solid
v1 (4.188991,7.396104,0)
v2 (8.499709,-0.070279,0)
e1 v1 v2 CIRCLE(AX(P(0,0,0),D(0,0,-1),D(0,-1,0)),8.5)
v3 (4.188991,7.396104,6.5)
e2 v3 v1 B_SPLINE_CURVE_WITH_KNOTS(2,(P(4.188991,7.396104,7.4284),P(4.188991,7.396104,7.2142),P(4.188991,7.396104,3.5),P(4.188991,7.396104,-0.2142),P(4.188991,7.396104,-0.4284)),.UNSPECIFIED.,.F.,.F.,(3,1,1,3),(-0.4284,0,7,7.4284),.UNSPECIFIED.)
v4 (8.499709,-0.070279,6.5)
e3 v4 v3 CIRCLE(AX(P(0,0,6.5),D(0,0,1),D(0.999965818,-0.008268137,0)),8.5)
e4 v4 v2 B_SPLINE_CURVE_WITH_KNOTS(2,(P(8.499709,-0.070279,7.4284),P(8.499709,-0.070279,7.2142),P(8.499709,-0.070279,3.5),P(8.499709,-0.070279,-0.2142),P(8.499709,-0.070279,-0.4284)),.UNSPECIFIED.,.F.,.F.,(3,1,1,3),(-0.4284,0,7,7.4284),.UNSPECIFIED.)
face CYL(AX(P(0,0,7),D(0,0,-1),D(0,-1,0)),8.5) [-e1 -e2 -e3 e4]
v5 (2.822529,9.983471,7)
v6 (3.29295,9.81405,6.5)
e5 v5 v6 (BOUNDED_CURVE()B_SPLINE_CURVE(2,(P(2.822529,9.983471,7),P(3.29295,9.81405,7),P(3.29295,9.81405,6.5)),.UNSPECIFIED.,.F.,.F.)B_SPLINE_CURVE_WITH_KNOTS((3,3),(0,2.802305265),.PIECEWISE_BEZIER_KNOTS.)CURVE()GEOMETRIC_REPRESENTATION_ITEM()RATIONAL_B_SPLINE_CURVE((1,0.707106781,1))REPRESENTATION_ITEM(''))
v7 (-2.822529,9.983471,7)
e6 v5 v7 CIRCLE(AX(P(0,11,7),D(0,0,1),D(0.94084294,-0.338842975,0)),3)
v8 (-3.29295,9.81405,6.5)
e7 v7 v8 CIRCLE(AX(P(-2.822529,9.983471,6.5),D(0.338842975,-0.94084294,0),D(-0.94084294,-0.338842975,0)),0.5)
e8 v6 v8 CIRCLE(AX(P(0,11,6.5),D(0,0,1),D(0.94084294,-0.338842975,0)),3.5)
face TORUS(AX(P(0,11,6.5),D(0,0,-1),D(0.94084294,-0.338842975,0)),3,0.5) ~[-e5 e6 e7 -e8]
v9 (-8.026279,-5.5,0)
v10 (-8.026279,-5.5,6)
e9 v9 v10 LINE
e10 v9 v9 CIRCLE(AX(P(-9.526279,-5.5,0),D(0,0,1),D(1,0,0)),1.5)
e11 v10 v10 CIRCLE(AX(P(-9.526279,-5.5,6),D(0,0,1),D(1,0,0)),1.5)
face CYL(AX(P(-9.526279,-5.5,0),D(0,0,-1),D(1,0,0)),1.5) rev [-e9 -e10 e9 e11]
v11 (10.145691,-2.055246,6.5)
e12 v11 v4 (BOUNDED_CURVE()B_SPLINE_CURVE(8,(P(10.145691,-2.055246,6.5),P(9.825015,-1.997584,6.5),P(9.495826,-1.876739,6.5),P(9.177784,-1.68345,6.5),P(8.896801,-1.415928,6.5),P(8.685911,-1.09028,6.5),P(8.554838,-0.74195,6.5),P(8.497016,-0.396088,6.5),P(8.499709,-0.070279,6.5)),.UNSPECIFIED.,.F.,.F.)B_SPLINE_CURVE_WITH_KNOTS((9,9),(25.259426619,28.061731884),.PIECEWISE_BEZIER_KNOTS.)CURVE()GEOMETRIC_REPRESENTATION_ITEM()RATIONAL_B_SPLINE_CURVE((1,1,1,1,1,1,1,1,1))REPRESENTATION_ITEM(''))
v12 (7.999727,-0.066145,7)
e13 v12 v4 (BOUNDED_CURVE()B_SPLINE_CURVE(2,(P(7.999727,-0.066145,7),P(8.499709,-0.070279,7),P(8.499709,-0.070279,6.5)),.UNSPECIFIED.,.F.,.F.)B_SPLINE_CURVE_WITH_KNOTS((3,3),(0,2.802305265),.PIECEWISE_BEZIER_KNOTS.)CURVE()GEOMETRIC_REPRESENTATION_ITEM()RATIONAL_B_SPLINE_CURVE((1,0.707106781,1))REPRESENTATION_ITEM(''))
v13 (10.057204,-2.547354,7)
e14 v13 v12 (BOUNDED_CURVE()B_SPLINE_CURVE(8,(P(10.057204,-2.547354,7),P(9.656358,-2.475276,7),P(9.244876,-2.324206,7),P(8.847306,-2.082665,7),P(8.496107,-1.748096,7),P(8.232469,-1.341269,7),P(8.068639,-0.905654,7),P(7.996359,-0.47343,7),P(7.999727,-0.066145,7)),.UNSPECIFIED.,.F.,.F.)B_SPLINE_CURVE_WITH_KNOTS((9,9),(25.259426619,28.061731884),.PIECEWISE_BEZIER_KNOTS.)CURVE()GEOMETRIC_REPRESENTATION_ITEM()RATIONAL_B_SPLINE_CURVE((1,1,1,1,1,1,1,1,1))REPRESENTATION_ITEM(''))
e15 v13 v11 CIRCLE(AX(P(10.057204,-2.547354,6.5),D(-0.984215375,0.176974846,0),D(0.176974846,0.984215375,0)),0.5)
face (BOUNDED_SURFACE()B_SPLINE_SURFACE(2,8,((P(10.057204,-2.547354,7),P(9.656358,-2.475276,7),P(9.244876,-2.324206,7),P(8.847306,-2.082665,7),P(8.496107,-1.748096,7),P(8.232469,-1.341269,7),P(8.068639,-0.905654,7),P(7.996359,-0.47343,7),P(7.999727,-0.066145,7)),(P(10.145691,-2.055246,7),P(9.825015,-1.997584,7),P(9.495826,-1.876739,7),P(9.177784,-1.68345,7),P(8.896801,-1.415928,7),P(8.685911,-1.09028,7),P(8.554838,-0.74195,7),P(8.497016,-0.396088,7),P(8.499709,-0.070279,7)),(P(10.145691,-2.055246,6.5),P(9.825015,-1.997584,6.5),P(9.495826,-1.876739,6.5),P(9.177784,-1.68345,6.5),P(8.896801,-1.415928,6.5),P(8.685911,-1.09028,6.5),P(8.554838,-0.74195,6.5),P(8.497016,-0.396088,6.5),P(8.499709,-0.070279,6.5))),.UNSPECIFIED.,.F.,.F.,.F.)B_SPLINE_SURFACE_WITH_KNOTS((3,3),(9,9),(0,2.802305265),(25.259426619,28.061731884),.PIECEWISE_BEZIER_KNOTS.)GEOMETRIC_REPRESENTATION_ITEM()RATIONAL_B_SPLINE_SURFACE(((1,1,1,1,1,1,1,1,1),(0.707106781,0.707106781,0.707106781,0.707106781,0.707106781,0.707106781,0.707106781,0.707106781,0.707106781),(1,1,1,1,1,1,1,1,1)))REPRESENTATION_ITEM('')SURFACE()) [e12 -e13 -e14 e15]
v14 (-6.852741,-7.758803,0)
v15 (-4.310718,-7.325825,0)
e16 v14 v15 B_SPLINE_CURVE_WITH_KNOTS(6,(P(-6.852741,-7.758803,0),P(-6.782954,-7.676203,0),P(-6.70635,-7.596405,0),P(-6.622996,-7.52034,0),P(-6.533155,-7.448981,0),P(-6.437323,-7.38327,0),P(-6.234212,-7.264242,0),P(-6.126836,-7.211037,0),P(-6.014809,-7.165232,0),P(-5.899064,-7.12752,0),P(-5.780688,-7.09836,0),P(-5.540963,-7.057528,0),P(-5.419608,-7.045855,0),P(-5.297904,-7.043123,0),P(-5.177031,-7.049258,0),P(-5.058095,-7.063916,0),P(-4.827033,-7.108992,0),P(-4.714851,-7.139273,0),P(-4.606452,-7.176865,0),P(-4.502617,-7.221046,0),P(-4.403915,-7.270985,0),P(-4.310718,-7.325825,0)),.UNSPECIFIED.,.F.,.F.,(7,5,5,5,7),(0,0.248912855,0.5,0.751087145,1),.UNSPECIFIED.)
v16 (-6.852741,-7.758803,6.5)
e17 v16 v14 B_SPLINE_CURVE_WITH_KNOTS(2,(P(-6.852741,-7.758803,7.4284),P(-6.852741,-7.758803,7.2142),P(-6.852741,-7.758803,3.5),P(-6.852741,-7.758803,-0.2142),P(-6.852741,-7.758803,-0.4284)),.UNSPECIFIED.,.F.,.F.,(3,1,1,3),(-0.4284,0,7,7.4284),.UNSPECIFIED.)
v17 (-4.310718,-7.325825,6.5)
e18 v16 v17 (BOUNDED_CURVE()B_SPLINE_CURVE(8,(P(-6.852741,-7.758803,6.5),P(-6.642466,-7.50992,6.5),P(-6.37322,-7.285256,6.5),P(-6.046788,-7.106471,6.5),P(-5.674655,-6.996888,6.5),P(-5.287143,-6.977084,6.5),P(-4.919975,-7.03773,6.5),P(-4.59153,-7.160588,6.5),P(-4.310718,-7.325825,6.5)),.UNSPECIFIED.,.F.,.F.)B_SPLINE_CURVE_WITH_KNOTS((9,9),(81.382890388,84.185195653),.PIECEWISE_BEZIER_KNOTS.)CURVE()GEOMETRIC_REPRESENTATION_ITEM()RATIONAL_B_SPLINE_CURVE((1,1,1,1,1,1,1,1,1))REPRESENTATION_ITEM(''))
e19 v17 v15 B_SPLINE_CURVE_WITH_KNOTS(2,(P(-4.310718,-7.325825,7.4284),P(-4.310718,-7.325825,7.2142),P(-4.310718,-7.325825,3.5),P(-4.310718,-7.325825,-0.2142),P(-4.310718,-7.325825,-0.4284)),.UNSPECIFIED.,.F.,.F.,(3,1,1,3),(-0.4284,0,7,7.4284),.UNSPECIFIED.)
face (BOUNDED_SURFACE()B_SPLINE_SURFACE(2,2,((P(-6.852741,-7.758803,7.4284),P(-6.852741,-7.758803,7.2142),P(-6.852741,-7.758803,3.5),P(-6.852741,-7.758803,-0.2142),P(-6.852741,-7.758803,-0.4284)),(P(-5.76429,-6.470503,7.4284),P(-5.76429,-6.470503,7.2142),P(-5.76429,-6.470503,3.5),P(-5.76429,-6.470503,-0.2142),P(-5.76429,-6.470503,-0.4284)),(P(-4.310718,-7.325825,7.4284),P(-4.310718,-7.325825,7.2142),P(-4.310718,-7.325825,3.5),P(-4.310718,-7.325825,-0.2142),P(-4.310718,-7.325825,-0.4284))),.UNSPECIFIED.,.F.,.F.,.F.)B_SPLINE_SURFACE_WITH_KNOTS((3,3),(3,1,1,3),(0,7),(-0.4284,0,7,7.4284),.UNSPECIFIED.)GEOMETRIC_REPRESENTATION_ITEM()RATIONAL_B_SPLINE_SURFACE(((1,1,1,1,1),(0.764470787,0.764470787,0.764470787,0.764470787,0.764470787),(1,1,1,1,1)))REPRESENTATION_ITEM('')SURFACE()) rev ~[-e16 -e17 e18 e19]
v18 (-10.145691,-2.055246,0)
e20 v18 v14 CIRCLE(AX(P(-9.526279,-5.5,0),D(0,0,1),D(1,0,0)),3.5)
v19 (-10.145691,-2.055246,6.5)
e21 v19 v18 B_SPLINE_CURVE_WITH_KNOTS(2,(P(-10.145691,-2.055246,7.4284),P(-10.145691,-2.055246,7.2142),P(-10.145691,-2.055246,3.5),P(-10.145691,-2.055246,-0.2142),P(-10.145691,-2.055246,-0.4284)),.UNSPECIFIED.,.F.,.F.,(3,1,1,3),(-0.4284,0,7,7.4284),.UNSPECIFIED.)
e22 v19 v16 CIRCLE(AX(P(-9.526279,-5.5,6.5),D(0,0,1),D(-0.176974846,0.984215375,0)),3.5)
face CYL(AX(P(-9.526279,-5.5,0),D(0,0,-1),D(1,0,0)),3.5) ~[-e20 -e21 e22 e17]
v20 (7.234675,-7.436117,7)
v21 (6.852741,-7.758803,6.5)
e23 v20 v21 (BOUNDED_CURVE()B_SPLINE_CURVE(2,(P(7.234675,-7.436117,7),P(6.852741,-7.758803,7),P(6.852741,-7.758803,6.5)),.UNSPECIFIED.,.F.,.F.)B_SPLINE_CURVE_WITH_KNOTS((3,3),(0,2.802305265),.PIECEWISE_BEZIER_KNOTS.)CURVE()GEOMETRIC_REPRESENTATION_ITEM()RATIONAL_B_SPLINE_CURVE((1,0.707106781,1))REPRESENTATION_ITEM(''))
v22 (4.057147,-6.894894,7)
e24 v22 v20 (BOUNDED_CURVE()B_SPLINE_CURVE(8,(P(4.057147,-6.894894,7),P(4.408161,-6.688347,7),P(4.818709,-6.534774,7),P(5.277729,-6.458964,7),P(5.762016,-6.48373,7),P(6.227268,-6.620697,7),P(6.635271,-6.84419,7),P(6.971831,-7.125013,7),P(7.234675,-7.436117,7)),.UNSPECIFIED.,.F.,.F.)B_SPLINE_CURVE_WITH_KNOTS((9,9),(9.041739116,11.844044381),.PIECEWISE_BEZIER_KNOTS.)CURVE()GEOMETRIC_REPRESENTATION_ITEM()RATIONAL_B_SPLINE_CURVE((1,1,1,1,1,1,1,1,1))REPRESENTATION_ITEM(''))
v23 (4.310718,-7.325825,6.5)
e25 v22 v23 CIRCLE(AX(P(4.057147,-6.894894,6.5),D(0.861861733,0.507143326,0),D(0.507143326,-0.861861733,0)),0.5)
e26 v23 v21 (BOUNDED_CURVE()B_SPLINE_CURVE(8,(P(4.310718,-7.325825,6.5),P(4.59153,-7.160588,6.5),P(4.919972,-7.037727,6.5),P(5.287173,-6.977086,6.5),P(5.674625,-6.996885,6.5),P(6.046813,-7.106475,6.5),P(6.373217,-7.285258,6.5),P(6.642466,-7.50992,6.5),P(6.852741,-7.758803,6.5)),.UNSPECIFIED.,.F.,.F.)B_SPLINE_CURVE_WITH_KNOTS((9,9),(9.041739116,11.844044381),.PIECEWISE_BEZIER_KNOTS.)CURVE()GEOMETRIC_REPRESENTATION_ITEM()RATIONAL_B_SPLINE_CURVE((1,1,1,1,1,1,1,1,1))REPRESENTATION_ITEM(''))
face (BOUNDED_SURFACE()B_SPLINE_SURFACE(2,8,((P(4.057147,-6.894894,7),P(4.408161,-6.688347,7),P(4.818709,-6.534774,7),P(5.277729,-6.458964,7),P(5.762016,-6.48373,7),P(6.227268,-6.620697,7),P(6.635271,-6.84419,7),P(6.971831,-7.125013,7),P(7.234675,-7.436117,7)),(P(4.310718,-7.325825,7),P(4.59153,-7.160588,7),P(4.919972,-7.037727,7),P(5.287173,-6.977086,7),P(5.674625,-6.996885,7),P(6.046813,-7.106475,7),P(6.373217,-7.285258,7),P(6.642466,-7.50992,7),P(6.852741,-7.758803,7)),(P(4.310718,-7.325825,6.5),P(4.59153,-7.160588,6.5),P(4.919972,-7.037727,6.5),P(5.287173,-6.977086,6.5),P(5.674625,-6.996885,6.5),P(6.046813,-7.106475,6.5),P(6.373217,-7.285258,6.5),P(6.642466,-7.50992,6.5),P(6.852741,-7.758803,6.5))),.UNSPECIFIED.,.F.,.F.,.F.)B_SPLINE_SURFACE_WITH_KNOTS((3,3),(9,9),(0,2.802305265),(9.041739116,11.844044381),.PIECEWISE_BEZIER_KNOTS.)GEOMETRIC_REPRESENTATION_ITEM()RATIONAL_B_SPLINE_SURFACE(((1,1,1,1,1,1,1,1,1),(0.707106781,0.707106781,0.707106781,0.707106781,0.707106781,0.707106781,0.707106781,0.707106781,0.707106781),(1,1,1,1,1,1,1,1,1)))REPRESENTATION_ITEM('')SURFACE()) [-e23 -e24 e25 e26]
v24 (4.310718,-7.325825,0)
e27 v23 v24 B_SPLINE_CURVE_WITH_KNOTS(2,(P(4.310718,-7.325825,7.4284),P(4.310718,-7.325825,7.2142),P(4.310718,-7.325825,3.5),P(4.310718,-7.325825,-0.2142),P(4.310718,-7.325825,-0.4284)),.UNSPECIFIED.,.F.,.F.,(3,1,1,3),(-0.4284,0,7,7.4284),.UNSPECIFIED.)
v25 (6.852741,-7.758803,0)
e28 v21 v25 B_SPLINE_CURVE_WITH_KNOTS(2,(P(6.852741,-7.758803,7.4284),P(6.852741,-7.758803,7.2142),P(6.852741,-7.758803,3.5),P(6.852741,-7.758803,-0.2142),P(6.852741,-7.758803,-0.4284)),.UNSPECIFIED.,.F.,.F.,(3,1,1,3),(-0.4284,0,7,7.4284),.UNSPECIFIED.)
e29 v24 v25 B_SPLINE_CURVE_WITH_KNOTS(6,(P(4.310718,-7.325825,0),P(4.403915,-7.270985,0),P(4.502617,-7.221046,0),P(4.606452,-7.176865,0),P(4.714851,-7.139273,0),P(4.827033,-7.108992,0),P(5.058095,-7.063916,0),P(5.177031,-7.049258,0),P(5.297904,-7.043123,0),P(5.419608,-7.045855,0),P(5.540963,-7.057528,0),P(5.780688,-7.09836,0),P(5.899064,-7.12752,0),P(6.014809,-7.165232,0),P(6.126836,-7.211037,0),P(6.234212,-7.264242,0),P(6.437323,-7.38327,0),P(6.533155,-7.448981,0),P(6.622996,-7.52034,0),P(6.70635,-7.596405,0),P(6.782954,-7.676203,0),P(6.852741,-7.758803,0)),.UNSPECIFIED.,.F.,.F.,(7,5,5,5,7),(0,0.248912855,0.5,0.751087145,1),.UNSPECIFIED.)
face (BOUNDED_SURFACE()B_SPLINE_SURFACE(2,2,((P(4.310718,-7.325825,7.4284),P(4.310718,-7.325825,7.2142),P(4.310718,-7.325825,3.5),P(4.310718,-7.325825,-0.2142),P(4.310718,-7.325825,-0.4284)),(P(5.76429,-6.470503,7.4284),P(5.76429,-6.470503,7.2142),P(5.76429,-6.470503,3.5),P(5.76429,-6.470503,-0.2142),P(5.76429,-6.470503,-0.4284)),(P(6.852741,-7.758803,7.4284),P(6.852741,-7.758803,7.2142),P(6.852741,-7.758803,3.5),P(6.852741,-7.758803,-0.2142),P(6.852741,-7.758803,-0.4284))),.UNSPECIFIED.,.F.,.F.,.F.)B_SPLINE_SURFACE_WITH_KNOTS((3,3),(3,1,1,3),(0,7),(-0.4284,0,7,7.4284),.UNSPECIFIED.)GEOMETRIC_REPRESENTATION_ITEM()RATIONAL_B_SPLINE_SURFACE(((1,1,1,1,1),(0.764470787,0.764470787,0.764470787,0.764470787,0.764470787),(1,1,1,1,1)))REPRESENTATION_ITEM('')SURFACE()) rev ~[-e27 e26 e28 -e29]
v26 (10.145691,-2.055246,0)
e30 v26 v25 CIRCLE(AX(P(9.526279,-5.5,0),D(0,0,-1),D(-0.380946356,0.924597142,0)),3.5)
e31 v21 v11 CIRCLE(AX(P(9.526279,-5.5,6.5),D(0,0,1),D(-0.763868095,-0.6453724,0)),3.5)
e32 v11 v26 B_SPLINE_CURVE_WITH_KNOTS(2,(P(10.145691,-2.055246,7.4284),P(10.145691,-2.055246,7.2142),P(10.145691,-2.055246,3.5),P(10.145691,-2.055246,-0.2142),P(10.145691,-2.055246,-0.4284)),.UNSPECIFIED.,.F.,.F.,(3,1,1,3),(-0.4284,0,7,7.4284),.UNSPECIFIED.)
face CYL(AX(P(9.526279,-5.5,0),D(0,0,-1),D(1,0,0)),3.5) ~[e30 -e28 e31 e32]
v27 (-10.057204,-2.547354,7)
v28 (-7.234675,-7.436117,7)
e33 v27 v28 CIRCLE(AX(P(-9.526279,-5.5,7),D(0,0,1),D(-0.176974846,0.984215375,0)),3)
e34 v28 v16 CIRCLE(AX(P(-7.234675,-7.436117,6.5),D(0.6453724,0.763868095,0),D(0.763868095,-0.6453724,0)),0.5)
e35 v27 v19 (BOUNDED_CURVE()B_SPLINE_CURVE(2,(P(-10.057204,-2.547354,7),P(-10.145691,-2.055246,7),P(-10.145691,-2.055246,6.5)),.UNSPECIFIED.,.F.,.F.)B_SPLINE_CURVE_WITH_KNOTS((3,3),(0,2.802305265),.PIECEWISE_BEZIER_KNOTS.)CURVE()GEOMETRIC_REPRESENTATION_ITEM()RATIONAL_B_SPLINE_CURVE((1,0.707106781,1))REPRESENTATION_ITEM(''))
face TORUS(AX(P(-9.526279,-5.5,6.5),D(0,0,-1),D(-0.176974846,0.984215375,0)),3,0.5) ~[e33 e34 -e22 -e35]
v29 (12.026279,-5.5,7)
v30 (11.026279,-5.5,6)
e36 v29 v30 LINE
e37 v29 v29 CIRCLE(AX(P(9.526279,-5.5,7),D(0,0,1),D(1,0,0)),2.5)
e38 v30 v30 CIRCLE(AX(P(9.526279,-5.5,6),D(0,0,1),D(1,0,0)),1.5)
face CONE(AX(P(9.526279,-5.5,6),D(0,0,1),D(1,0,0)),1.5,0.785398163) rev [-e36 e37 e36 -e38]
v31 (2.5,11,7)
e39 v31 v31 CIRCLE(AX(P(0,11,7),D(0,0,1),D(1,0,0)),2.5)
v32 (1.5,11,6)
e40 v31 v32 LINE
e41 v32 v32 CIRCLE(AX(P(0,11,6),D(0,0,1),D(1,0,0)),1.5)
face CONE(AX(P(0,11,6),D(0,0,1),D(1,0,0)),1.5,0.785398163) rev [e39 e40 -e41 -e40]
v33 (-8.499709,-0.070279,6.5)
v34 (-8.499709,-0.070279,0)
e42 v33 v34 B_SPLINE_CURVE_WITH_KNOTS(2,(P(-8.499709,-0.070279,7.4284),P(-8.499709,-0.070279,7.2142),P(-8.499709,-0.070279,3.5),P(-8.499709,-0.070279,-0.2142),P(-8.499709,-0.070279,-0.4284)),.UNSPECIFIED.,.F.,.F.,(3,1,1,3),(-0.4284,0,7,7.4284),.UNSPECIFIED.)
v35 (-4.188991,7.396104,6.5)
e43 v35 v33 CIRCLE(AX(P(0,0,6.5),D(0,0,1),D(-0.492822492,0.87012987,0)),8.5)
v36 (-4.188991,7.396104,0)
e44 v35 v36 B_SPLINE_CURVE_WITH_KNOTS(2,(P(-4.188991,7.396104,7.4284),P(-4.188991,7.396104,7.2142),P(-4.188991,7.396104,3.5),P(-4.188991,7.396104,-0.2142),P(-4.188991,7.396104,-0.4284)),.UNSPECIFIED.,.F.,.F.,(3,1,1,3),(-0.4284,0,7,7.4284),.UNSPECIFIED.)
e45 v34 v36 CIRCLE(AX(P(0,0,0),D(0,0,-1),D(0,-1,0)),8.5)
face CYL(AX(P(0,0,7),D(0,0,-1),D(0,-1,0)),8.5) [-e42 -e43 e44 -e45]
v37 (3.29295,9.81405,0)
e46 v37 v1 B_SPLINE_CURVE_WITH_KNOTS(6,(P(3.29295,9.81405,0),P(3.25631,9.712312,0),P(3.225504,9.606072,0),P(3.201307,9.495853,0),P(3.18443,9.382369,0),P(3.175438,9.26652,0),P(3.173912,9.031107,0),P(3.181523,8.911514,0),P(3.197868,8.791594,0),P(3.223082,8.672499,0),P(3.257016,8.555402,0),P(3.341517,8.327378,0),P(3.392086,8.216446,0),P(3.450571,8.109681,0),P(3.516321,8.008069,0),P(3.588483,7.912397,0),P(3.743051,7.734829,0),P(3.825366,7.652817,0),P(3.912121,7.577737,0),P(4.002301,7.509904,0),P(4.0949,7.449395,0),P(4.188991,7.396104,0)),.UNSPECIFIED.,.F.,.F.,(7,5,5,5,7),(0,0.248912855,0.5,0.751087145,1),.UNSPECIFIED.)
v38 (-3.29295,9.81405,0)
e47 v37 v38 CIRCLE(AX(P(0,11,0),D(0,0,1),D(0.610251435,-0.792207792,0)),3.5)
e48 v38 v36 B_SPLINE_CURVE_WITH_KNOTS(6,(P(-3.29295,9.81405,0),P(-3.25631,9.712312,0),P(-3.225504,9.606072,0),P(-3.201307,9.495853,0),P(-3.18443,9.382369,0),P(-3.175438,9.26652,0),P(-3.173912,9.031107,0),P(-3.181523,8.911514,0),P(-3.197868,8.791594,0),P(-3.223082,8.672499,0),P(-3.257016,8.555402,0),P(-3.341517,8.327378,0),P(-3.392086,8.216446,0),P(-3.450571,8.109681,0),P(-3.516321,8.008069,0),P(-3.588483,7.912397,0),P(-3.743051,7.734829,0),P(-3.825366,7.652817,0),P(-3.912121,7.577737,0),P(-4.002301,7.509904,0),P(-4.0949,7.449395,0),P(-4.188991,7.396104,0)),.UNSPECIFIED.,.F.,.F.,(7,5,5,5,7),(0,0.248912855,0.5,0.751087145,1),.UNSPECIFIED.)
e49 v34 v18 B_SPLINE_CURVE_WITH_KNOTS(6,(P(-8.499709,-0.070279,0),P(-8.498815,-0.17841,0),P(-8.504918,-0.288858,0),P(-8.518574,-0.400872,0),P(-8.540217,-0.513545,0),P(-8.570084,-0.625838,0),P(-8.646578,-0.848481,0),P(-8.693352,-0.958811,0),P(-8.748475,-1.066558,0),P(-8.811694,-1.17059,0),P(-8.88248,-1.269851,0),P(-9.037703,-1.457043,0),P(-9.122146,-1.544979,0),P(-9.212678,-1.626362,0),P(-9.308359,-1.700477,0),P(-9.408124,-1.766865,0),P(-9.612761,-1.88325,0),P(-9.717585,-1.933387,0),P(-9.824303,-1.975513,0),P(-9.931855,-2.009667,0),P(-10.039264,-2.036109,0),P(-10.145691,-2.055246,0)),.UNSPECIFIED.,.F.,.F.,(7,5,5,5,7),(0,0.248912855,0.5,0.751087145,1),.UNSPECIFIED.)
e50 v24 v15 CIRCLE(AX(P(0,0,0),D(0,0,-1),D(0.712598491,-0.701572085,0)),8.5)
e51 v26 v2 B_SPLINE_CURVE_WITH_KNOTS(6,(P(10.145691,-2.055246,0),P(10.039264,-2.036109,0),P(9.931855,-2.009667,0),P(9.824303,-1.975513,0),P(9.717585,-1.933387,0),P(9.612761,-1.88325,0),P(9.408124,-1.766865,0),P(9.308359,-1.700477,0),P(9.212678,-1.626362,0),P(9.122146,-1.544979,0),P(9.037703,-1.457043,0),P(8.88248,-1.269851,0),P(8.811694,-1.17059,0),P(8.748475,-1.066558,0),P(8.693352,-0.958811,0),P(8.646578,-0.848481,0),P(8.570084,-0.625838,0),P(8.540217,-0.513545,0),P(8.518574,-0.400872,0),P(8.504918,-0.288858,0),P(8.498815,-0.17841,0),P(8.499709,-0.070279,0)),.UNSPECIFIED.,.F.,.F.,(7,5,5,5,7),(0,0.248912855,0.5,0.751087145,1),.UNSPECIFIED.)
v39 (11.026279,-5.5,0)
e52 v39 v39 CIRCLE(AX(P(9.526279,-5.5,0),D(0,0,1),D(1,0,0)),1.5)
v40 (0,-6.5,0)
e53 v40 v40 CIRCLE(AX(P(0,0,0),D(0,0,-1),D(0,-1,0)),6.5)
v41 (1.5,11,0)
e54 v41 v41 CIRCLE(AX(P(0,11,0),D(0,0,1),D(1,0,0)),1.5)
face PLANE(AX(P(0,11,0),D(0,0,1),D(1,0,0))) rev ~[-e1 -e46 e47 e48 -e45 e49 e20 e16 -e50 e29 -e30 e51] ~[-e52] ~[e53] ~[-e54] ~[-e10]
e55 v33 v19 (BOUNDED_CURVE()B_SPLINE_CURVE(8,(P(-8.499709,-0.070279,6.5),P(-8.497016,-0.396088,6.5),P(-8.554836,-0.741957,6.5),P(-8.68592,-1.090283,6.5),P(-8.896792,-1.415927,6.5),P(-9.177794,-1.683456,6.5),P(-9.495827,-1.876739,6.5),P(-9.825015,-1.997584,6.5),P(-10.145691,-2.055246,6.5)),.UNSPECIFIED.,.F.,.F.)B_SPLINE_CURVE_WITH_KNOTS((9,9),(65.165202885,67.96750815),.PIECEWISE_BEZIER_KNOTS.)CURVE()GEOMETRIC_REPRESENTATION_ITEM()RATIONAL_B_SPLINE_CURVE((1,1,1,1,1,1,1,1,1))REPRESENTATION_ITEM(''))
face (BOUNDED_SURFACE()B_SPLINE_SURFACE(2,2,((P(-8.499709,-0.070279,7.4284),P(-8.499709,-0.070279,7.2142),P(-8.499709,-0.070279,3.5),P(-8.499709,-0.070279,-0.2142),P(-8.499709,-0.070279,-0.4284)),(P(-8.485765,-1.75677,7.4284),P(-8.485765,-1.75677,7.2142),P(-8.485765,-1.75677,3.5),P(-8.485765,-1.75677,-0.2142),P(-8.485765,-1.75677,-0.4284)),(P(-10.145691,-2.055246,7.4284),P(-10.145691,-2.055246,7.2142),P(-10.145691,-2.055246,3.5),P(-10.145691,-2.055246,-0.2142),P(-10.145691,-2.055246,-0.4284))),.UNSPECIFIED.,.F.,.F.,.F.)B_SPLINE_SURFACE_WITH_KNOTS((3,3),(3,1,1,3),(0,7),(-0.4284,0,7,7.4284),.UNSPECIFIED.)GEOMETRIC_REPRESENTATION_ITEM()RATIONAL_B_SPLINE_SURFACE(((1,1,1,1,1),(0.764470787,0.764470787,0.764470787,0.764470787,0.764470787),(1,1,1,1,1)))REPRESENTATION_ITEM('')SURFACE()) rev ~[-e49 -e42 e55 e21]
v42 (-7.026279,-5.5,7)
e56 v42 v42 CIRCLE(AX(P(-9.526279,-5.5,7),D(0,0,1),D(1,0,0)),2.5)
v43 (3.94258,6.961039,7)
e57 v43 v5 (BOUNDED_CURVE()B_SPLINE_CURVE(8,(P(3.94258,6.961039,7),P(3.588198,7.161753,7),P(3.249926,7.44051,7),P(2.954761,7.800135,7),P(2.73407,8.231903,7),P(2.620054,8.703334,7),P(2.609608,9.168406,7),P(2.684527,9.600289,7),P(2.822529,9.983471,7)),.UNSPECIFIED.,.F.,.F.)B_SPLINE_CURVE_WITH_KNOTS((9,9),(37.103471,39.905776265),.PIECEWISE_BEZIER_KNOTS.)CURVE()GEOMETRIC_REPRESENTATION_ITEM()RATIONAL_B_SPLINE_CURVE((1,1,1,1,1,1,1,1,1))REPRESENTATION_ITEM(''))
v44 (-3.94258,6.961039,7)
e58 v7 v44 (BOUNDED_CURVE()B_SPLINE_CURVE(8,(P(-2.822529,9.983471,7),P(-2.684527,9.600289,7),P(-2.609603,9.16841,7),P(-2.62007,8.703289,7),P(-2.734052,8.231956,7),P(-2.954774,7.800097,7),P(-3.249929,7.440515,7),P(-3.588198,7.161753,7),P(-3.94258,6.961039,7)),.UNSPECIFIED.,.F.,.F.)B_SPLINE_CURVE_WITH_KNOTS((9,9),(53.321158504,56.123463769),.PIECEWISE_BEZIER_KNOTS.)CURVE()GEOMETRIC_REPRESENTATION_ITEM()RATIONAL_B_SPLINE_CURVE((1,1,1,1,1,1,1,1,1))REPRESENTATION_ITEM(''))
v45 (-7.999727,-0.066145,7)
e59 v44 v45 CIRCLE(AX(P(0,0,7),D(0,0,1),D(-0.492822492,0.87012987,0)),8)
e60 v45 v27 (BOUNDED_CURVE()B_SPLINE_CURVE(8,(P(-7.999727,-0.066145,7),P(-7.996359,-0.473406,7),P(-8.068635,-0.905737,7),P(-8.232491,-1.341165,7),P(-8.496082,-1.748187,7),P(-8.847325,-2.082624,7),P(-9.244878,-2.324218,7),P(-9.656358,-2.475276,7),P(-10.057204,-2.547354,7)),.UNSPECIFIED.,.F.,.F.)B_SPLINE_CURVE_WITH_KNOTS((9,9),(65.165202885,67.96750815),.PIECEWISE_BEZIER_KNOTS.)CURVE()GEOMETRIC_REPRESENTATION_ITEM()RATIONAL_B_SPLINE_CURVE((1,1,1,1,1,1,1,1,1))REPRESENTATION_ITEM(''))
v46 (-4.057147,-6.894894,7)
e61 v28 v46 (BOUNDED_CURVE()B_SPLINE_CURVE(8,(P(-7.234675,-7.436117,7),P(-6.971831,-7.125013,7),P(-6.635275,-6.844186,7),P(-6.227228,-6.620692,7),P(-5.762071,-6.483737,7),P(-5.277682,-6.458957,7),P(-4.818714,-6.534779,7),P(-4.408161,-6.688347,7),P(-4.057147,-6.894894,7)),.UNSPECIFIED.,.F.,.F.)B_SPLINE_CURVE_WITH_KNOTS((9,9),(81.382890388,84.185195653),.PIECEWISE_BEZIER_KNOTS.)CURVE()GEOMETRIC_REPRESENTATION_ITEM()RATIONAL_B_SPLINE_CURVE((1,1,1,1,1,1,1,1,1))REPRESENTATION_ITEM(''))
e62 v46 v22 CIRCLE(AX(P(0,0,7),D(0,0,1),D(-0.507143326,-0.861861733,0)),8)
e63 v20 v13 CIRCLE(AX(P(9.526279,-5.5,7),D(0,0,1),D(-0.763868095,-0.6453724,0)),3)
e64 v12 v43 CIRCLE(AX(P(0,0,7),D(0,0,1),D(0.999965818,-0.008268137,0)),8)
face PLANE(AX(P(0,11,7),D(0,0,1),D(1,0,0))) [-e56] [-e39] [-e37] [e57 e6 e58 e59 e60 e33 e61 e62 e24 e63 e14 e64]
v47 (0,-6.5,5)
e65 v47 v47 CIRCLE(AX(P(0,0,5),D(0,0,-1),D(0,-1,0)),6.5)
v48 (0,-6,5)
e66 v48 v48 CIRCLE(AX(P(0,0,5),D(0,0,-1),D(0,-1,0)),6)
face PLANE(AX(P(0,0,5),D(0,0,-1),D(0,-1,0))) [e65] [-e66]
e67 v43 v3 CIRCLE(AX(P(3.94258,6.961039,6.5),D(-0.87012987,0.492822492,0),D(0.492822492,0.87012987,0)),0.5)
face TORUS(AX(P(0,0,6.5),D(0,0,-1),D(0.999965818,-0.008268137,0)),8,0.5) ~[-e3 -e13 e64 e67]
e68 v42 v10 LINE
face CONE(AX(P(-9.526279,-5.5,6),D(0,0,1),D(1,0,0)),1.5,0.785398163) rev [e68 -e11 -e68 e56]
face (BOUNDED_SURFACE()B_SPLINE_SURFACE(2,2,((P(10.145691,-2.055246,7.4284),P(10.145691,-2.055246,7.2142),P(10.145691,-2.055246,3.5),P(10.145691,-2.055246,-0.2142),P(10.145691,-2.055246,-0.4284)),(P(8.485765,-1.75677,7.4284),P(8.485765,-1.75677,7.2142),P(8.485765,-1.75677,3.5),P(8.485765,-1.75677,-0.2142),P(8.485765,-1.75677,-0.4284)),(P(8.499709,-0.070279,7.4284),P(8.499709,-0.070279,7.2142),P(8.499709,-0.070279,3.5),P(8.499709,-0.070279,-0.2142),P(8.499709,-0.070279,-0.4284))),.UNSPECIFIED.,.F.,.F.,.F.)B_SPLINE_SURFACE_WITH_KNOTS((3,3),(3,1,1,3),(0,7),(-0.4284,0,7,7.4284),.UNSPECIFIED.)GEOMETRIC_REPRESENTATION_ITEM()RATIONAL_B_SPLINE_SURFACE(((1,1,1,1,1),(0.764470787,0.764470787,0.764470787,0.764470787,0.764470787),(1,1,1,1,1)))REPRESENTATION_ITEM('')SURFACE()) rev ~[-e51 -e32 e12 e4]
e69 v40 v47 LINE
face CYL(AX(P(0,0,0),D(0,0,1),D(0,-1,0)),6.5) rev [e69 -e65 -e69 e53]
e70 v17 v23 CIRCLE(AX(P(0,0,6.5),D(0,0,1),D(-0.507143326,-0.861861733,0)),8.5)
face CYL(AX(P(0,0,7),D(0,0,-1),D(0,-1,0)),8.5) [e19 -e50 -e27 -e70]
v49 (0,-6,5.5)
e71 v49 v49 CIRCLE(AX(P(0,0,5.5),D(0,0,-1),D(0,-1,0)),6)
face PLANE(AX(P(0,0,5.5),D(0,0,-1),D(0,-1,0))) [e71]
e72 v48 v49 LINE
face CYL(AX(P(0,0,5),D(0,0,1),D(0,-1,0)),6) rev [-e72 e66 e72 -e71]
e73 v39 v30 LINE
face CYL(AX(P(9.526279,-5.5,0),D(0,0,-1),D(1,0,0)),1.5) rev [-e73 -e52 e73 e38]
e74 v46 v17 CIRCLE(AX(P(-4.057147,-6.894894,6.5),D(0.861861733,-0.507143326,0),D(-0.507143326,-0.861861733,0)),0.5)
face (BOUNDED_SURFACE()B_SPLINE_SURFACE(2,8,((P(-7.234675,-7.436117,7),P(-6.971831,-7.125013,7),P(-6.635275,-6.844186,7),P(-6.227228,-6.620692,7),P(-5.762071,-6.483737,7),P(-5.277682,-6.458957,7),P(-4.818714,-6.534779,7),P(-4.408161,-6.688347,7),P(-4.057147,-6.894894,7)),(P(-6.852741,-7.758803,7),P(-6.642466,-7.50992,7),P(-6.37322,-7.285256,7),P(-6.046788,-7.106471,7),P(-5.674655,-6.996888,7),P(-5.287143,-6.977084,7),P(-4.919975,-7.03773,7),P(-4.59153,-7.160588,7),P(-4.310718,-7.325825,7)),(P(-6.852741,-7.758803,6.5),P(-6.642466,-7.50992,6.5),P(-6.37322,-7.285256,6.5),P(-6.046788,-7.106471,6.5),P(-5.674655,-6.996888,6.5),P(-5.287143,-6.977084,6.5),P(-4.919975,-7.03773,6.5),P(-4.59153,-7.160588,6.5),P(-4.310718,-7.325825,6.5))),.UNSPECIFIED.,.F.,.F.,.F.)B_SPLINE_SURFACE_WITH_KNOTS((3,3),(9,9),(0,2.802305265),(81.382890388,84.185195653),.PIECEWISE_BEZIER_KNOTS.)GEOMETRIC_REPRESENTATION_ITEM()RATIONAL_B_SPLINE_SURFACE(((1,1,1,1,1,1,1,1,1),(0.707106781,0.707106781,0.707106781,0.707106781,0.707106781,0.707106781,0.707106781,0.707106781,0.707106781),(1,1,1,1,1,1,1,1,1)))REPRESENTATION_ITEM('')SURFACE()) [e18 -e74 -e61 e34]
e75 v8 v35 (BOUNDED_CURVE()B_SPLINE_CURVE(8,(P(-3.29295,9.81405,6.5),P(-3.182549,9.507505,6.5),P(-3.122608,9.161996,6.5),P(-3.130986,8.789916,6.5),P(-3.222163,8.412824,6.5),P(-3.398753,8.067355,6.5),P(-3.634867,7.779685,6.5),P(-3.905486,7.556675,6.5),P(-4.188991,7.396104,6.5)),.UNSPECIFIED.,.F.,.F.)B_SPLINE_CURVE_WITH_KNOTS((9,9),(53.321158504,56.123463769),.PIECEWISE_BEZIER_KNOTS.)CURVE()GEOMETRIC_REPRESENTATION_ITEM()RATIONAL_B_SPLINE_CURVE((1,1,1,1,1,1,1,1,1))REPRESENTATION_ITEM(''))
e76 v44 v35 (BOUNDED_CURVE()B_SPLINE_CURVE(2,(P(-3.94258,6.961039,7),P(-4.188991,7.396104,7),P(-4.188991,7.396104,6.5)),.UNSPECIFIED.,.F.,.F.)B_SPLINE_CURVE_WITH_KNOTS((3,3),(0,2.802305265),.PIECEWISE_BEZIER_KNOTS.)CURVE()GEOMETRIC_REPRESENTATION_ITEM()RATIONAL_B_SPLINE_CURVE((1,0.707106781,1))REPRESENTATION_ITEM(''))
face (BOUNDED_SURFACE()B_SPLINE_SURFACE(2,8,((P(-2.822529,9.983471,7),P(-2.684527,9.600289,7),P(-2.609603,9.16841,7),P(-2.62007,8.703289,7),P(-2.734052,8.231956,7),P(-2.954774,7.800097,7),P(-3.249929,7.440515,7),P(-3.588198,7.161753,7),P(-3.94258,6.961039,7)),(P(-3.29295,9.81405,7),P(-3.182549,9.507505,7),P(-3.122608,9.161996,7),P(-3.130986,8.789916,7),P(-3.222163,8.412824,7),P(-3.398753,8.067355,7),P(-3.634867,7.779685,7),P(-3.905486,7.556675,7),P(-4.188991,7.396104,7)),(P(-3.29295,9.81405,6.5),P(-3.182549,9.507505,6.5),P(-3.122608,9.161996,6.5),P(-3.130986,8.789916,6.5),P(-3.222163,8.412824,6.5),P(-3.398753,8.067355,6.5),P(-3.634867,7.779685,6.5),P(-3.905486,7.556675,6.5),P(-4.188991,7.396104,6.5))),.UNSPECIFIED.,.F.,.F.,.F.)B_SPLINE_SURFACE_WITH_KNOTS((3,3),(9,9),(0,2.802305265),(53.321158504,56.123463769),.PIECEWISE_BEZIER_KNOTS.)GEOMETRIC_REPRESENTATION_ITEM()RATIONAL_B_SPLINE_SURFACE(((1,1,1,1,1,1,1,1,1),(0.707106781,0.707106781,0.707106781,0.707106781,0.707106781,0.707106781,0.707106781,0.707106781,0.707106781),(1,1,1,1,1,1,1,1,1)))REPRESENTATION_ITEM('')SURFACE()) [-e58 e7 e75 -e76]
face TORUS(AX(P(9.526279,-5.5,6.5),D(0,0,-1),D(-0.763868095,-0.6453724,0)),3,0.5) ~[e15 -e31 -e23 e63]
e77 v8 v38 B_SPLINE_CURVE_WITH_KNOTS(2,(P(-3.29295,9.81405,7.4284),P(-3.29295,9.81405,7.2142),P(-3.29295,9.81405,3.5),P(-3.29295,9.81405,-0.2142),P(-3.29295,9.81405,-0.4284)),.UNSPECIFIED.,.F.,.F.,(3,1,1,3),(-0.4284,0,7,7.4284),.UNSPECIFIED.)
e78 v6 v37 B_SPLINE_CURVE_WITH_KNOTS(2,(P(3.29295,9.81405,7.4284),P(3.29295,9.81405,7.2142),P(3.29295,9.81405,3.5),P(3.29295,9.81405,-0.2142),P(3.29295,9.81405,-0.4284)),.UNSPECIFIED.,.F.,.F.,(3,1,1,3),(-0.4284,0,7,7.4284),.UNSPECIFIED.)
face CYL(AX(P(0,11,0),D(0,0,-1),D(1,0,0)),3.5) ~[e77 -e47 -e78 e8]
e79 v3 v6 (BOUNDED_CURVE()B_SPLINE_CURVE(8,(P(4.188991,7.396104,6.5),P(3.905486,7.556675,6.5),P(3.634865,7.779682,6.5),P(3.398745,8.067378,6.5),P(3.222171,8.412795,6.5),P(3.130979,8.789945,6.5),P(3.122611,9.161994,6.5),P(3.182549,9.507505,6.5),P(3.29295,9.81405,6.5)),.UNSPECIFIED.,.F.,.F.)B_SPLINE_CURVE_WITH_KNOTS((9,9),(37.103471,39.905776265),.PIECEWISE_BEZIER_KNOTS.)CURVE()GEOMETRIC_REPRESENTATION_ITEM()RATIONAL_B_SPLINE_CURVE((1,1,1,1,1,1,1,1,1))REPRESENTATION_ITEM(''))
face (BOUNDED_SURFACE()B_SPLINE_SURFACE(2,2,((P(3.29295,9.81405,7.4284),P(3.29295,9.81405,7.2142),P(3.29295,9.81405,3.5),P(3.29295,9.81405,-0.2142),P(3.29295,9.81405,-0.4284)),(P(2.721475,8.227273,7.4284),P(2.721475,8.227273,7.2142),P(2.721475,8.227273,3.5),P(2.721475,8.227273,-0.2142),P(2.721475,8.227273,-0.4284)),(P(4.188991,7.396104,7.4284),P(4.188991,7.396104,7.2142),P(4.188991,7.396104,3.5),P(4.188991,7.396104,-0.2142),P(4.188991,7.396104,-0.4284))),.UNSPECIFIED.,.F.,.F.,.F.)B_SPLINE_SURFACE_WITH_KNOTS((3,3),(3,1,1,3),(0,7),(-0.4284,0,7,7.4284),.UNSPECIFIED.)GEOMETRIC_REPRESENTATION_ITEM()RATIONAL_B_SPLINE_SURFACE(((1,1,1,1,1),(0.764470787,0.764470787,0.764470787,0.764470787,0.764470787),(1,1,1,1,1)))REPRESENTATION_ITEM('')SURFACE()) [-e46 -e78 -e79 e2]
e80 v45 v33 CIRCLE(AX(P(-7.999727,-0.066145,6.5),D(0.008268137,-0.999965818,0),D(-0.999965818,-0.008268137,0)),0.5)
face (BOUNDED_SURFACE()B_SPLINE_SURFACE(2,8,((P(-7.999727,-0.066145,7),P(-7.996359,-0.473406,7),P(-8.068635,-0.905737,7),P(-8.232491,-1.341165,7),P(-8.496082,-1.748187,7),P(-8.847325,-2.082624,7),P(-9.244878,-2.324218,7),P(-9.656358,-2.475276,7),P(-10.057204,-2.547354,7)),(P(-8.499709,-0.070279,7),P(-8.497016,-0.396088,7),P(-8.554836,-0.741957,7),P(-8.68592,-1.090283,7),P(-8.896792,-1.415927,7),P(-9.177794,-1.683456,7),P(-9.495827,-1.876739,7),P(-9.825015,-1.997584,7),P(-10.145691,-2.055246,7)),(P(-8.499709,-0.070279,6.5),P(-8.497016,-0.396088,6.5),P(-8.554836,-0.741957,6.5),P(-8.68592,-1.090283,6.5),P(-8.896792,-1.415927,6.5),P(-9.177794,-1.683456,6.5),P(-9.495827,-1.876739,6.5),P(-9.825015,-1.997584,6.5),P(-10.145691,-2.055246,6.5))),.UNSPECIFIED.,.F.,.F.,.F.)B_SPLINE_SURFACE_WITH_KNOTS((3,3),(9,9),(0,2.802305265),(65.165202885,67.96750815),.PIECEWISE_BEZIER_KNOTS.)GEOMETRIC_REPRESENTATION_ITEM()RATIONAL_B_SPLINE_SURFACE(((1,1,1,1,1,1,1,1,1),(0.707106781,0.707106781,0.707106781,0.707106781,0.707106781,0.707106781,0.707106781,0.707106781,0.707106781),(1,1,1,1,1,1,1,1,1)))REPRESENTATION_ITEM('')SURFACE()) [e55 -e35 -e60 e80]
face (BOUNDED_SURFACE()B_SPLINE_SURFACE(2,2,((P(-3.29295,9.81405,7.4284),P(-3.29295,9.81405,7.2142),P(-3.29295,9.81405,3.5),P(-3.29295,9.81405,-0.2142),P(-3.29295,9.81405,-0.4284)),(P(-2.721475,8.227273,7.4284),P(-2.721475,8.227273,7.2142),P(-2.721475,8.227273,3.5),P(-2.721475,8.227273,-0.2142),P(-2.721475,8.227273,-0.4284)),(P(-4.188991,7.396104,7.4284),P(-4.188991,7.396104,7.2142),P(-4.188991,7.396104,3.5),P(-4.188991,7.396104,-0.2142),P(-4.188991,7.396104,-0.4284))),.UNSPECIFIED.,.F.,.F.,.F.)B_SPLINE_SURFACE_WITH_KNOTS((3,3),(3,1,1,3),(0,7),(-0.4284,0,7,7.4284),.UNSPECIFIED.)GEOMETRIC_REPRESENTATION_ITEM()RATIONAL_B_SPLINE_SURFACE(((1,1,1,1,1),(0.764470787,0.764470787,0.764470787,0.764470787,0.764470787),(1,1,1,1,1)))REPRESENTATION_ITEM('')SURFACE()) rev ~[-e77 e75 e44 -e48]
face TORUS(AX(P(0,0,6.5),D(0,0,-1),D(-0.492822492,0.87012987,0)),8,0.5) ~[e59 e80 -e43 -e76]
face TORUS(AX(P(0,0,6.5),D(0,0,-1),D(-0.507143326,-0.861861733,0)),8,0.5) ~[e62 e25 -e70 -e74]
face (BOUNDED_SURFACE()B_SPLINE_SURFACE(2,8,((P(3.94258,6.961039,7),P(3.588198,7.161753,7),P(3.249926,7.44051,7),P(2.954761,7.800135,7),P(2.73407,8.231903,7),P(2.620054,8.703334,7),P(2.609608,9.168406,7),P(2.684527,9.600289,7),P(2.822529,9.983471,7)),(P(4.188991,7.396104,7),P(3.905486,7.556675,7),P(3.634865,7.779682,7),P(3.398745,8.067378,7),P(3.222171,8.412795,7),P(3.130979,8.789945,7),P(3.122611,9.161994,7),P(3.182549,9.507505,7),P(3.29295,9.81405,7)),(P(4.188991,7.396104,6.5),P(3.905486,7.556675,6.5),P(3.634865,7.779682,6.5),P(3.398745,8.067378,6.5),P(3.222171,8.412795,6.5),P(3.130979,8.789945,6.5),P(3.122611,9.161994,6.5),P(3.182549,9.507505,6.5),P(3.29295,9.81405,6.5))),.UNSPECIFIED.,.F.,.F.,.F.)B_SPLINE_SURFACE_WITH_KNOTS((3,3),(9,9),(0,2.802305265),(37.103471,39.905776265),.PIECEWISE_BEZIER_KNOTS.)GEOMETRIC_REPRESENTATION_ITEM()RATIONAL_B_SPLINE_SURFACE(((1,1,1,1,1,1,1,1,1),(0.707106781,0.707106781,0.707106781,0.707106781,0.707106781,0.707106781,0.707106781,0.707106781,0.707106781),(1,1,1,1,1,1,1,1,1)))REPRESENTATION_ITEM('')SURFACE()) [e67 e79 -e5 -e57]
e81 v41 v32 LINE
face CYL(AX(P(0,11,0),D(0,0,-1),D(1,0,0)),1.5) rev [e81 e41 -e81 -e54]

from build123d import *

# Parameters (mm, degrees)
F2_R     = 3.5
F2_R_2   = 1.5
F3_DEPTH = 7
F4_SIZE  = 1
F5_R     = 2
F6_R     = 0.5


with BuildPart() as f1:
    # F0 (on Right) → F1 (revolve)
    with BuildSketch(Plane.YZ):
        Polygon((-8.5, 7), (-8.5, 0), (-6.5, 0), (-6.5, 5), (-6, 5), (-6, 5.5), (0, 5.5), (0, 7), align=None)
    revolve(axis=Axis((0, 0, 6.25), (0, 0, -1)))

    # F2 (on Top) → F3 (join)
    with BuildSketch(Plane.XY):
        with Locations((0, 11)):
            Circle(F2_R)
        with Locations((0, 11)):
            Circle(F2_R_2, mode=Mode.SUBTRACT)
        with Locations((-9.5262794416, -5.5)):
            Circle(F2_R)
        with Locations((-9.5262794416, -5.5)):
            Circle(F2_R_2, mode=Mode.SUBTRACT)
        with Locations((9.5262794416, -5.5)):
            Circle(F2_R)
        with Locations((9.5262794416, -5.5)):
            Circle(F2_R_2, mode=Mode.SUBTRACT)
    extrude(amount=F3_DEPTH)

    # F4
    f4_edges = [f1.edges().sort_by_distance(p)[0] for p in [
        (-1.5, 11, 7),
        (-11.026279, -5.5, 7),
        (8.026279, -5.5, 7),
    ]]
    chamfer(f4_edges, length=F4_SIZE)

    # F5
    f5_edges = [f1.edges().sort_by_distance(p)[0] for p in [
        (-2.13588, 8.227273, 3.5),
        (2.13588, 8.227273, 3.5),
        (-6.057087, -5.963363, 3.5),
        (-8.192967, -2.26391, 3.5),
        (6.057087, -5.963363, 3.5),
        (8.192967, -2.26391, 3.5),
    ]]
    fillet(f5_edges, radius=F5_R)

    # F6
    f6_edges = [f1.edges().sort_by_distance(p)[0] for p in [
        (0, -8.5, 7),
        (-5.660825, -7.077944, 7),
        (-8.960092, -1.363447, 7),
        (-12.557368, -7.25, 7),
        (-7.361216, 4.25, 7),
        (-3.299266, 8.44139, 7),
        (3.299266, 8.44139, 7),
        (0, 14.5, 7),
        (7.361216, 4.25, 7),
        (5.660825, -7.077944, 7),
        (8.960092, -1.363447, 7),
        (12.557368, -7.25, 7),
    ]]
    fillet(f6_edges, radius=F6_R)


solid = f1.part
